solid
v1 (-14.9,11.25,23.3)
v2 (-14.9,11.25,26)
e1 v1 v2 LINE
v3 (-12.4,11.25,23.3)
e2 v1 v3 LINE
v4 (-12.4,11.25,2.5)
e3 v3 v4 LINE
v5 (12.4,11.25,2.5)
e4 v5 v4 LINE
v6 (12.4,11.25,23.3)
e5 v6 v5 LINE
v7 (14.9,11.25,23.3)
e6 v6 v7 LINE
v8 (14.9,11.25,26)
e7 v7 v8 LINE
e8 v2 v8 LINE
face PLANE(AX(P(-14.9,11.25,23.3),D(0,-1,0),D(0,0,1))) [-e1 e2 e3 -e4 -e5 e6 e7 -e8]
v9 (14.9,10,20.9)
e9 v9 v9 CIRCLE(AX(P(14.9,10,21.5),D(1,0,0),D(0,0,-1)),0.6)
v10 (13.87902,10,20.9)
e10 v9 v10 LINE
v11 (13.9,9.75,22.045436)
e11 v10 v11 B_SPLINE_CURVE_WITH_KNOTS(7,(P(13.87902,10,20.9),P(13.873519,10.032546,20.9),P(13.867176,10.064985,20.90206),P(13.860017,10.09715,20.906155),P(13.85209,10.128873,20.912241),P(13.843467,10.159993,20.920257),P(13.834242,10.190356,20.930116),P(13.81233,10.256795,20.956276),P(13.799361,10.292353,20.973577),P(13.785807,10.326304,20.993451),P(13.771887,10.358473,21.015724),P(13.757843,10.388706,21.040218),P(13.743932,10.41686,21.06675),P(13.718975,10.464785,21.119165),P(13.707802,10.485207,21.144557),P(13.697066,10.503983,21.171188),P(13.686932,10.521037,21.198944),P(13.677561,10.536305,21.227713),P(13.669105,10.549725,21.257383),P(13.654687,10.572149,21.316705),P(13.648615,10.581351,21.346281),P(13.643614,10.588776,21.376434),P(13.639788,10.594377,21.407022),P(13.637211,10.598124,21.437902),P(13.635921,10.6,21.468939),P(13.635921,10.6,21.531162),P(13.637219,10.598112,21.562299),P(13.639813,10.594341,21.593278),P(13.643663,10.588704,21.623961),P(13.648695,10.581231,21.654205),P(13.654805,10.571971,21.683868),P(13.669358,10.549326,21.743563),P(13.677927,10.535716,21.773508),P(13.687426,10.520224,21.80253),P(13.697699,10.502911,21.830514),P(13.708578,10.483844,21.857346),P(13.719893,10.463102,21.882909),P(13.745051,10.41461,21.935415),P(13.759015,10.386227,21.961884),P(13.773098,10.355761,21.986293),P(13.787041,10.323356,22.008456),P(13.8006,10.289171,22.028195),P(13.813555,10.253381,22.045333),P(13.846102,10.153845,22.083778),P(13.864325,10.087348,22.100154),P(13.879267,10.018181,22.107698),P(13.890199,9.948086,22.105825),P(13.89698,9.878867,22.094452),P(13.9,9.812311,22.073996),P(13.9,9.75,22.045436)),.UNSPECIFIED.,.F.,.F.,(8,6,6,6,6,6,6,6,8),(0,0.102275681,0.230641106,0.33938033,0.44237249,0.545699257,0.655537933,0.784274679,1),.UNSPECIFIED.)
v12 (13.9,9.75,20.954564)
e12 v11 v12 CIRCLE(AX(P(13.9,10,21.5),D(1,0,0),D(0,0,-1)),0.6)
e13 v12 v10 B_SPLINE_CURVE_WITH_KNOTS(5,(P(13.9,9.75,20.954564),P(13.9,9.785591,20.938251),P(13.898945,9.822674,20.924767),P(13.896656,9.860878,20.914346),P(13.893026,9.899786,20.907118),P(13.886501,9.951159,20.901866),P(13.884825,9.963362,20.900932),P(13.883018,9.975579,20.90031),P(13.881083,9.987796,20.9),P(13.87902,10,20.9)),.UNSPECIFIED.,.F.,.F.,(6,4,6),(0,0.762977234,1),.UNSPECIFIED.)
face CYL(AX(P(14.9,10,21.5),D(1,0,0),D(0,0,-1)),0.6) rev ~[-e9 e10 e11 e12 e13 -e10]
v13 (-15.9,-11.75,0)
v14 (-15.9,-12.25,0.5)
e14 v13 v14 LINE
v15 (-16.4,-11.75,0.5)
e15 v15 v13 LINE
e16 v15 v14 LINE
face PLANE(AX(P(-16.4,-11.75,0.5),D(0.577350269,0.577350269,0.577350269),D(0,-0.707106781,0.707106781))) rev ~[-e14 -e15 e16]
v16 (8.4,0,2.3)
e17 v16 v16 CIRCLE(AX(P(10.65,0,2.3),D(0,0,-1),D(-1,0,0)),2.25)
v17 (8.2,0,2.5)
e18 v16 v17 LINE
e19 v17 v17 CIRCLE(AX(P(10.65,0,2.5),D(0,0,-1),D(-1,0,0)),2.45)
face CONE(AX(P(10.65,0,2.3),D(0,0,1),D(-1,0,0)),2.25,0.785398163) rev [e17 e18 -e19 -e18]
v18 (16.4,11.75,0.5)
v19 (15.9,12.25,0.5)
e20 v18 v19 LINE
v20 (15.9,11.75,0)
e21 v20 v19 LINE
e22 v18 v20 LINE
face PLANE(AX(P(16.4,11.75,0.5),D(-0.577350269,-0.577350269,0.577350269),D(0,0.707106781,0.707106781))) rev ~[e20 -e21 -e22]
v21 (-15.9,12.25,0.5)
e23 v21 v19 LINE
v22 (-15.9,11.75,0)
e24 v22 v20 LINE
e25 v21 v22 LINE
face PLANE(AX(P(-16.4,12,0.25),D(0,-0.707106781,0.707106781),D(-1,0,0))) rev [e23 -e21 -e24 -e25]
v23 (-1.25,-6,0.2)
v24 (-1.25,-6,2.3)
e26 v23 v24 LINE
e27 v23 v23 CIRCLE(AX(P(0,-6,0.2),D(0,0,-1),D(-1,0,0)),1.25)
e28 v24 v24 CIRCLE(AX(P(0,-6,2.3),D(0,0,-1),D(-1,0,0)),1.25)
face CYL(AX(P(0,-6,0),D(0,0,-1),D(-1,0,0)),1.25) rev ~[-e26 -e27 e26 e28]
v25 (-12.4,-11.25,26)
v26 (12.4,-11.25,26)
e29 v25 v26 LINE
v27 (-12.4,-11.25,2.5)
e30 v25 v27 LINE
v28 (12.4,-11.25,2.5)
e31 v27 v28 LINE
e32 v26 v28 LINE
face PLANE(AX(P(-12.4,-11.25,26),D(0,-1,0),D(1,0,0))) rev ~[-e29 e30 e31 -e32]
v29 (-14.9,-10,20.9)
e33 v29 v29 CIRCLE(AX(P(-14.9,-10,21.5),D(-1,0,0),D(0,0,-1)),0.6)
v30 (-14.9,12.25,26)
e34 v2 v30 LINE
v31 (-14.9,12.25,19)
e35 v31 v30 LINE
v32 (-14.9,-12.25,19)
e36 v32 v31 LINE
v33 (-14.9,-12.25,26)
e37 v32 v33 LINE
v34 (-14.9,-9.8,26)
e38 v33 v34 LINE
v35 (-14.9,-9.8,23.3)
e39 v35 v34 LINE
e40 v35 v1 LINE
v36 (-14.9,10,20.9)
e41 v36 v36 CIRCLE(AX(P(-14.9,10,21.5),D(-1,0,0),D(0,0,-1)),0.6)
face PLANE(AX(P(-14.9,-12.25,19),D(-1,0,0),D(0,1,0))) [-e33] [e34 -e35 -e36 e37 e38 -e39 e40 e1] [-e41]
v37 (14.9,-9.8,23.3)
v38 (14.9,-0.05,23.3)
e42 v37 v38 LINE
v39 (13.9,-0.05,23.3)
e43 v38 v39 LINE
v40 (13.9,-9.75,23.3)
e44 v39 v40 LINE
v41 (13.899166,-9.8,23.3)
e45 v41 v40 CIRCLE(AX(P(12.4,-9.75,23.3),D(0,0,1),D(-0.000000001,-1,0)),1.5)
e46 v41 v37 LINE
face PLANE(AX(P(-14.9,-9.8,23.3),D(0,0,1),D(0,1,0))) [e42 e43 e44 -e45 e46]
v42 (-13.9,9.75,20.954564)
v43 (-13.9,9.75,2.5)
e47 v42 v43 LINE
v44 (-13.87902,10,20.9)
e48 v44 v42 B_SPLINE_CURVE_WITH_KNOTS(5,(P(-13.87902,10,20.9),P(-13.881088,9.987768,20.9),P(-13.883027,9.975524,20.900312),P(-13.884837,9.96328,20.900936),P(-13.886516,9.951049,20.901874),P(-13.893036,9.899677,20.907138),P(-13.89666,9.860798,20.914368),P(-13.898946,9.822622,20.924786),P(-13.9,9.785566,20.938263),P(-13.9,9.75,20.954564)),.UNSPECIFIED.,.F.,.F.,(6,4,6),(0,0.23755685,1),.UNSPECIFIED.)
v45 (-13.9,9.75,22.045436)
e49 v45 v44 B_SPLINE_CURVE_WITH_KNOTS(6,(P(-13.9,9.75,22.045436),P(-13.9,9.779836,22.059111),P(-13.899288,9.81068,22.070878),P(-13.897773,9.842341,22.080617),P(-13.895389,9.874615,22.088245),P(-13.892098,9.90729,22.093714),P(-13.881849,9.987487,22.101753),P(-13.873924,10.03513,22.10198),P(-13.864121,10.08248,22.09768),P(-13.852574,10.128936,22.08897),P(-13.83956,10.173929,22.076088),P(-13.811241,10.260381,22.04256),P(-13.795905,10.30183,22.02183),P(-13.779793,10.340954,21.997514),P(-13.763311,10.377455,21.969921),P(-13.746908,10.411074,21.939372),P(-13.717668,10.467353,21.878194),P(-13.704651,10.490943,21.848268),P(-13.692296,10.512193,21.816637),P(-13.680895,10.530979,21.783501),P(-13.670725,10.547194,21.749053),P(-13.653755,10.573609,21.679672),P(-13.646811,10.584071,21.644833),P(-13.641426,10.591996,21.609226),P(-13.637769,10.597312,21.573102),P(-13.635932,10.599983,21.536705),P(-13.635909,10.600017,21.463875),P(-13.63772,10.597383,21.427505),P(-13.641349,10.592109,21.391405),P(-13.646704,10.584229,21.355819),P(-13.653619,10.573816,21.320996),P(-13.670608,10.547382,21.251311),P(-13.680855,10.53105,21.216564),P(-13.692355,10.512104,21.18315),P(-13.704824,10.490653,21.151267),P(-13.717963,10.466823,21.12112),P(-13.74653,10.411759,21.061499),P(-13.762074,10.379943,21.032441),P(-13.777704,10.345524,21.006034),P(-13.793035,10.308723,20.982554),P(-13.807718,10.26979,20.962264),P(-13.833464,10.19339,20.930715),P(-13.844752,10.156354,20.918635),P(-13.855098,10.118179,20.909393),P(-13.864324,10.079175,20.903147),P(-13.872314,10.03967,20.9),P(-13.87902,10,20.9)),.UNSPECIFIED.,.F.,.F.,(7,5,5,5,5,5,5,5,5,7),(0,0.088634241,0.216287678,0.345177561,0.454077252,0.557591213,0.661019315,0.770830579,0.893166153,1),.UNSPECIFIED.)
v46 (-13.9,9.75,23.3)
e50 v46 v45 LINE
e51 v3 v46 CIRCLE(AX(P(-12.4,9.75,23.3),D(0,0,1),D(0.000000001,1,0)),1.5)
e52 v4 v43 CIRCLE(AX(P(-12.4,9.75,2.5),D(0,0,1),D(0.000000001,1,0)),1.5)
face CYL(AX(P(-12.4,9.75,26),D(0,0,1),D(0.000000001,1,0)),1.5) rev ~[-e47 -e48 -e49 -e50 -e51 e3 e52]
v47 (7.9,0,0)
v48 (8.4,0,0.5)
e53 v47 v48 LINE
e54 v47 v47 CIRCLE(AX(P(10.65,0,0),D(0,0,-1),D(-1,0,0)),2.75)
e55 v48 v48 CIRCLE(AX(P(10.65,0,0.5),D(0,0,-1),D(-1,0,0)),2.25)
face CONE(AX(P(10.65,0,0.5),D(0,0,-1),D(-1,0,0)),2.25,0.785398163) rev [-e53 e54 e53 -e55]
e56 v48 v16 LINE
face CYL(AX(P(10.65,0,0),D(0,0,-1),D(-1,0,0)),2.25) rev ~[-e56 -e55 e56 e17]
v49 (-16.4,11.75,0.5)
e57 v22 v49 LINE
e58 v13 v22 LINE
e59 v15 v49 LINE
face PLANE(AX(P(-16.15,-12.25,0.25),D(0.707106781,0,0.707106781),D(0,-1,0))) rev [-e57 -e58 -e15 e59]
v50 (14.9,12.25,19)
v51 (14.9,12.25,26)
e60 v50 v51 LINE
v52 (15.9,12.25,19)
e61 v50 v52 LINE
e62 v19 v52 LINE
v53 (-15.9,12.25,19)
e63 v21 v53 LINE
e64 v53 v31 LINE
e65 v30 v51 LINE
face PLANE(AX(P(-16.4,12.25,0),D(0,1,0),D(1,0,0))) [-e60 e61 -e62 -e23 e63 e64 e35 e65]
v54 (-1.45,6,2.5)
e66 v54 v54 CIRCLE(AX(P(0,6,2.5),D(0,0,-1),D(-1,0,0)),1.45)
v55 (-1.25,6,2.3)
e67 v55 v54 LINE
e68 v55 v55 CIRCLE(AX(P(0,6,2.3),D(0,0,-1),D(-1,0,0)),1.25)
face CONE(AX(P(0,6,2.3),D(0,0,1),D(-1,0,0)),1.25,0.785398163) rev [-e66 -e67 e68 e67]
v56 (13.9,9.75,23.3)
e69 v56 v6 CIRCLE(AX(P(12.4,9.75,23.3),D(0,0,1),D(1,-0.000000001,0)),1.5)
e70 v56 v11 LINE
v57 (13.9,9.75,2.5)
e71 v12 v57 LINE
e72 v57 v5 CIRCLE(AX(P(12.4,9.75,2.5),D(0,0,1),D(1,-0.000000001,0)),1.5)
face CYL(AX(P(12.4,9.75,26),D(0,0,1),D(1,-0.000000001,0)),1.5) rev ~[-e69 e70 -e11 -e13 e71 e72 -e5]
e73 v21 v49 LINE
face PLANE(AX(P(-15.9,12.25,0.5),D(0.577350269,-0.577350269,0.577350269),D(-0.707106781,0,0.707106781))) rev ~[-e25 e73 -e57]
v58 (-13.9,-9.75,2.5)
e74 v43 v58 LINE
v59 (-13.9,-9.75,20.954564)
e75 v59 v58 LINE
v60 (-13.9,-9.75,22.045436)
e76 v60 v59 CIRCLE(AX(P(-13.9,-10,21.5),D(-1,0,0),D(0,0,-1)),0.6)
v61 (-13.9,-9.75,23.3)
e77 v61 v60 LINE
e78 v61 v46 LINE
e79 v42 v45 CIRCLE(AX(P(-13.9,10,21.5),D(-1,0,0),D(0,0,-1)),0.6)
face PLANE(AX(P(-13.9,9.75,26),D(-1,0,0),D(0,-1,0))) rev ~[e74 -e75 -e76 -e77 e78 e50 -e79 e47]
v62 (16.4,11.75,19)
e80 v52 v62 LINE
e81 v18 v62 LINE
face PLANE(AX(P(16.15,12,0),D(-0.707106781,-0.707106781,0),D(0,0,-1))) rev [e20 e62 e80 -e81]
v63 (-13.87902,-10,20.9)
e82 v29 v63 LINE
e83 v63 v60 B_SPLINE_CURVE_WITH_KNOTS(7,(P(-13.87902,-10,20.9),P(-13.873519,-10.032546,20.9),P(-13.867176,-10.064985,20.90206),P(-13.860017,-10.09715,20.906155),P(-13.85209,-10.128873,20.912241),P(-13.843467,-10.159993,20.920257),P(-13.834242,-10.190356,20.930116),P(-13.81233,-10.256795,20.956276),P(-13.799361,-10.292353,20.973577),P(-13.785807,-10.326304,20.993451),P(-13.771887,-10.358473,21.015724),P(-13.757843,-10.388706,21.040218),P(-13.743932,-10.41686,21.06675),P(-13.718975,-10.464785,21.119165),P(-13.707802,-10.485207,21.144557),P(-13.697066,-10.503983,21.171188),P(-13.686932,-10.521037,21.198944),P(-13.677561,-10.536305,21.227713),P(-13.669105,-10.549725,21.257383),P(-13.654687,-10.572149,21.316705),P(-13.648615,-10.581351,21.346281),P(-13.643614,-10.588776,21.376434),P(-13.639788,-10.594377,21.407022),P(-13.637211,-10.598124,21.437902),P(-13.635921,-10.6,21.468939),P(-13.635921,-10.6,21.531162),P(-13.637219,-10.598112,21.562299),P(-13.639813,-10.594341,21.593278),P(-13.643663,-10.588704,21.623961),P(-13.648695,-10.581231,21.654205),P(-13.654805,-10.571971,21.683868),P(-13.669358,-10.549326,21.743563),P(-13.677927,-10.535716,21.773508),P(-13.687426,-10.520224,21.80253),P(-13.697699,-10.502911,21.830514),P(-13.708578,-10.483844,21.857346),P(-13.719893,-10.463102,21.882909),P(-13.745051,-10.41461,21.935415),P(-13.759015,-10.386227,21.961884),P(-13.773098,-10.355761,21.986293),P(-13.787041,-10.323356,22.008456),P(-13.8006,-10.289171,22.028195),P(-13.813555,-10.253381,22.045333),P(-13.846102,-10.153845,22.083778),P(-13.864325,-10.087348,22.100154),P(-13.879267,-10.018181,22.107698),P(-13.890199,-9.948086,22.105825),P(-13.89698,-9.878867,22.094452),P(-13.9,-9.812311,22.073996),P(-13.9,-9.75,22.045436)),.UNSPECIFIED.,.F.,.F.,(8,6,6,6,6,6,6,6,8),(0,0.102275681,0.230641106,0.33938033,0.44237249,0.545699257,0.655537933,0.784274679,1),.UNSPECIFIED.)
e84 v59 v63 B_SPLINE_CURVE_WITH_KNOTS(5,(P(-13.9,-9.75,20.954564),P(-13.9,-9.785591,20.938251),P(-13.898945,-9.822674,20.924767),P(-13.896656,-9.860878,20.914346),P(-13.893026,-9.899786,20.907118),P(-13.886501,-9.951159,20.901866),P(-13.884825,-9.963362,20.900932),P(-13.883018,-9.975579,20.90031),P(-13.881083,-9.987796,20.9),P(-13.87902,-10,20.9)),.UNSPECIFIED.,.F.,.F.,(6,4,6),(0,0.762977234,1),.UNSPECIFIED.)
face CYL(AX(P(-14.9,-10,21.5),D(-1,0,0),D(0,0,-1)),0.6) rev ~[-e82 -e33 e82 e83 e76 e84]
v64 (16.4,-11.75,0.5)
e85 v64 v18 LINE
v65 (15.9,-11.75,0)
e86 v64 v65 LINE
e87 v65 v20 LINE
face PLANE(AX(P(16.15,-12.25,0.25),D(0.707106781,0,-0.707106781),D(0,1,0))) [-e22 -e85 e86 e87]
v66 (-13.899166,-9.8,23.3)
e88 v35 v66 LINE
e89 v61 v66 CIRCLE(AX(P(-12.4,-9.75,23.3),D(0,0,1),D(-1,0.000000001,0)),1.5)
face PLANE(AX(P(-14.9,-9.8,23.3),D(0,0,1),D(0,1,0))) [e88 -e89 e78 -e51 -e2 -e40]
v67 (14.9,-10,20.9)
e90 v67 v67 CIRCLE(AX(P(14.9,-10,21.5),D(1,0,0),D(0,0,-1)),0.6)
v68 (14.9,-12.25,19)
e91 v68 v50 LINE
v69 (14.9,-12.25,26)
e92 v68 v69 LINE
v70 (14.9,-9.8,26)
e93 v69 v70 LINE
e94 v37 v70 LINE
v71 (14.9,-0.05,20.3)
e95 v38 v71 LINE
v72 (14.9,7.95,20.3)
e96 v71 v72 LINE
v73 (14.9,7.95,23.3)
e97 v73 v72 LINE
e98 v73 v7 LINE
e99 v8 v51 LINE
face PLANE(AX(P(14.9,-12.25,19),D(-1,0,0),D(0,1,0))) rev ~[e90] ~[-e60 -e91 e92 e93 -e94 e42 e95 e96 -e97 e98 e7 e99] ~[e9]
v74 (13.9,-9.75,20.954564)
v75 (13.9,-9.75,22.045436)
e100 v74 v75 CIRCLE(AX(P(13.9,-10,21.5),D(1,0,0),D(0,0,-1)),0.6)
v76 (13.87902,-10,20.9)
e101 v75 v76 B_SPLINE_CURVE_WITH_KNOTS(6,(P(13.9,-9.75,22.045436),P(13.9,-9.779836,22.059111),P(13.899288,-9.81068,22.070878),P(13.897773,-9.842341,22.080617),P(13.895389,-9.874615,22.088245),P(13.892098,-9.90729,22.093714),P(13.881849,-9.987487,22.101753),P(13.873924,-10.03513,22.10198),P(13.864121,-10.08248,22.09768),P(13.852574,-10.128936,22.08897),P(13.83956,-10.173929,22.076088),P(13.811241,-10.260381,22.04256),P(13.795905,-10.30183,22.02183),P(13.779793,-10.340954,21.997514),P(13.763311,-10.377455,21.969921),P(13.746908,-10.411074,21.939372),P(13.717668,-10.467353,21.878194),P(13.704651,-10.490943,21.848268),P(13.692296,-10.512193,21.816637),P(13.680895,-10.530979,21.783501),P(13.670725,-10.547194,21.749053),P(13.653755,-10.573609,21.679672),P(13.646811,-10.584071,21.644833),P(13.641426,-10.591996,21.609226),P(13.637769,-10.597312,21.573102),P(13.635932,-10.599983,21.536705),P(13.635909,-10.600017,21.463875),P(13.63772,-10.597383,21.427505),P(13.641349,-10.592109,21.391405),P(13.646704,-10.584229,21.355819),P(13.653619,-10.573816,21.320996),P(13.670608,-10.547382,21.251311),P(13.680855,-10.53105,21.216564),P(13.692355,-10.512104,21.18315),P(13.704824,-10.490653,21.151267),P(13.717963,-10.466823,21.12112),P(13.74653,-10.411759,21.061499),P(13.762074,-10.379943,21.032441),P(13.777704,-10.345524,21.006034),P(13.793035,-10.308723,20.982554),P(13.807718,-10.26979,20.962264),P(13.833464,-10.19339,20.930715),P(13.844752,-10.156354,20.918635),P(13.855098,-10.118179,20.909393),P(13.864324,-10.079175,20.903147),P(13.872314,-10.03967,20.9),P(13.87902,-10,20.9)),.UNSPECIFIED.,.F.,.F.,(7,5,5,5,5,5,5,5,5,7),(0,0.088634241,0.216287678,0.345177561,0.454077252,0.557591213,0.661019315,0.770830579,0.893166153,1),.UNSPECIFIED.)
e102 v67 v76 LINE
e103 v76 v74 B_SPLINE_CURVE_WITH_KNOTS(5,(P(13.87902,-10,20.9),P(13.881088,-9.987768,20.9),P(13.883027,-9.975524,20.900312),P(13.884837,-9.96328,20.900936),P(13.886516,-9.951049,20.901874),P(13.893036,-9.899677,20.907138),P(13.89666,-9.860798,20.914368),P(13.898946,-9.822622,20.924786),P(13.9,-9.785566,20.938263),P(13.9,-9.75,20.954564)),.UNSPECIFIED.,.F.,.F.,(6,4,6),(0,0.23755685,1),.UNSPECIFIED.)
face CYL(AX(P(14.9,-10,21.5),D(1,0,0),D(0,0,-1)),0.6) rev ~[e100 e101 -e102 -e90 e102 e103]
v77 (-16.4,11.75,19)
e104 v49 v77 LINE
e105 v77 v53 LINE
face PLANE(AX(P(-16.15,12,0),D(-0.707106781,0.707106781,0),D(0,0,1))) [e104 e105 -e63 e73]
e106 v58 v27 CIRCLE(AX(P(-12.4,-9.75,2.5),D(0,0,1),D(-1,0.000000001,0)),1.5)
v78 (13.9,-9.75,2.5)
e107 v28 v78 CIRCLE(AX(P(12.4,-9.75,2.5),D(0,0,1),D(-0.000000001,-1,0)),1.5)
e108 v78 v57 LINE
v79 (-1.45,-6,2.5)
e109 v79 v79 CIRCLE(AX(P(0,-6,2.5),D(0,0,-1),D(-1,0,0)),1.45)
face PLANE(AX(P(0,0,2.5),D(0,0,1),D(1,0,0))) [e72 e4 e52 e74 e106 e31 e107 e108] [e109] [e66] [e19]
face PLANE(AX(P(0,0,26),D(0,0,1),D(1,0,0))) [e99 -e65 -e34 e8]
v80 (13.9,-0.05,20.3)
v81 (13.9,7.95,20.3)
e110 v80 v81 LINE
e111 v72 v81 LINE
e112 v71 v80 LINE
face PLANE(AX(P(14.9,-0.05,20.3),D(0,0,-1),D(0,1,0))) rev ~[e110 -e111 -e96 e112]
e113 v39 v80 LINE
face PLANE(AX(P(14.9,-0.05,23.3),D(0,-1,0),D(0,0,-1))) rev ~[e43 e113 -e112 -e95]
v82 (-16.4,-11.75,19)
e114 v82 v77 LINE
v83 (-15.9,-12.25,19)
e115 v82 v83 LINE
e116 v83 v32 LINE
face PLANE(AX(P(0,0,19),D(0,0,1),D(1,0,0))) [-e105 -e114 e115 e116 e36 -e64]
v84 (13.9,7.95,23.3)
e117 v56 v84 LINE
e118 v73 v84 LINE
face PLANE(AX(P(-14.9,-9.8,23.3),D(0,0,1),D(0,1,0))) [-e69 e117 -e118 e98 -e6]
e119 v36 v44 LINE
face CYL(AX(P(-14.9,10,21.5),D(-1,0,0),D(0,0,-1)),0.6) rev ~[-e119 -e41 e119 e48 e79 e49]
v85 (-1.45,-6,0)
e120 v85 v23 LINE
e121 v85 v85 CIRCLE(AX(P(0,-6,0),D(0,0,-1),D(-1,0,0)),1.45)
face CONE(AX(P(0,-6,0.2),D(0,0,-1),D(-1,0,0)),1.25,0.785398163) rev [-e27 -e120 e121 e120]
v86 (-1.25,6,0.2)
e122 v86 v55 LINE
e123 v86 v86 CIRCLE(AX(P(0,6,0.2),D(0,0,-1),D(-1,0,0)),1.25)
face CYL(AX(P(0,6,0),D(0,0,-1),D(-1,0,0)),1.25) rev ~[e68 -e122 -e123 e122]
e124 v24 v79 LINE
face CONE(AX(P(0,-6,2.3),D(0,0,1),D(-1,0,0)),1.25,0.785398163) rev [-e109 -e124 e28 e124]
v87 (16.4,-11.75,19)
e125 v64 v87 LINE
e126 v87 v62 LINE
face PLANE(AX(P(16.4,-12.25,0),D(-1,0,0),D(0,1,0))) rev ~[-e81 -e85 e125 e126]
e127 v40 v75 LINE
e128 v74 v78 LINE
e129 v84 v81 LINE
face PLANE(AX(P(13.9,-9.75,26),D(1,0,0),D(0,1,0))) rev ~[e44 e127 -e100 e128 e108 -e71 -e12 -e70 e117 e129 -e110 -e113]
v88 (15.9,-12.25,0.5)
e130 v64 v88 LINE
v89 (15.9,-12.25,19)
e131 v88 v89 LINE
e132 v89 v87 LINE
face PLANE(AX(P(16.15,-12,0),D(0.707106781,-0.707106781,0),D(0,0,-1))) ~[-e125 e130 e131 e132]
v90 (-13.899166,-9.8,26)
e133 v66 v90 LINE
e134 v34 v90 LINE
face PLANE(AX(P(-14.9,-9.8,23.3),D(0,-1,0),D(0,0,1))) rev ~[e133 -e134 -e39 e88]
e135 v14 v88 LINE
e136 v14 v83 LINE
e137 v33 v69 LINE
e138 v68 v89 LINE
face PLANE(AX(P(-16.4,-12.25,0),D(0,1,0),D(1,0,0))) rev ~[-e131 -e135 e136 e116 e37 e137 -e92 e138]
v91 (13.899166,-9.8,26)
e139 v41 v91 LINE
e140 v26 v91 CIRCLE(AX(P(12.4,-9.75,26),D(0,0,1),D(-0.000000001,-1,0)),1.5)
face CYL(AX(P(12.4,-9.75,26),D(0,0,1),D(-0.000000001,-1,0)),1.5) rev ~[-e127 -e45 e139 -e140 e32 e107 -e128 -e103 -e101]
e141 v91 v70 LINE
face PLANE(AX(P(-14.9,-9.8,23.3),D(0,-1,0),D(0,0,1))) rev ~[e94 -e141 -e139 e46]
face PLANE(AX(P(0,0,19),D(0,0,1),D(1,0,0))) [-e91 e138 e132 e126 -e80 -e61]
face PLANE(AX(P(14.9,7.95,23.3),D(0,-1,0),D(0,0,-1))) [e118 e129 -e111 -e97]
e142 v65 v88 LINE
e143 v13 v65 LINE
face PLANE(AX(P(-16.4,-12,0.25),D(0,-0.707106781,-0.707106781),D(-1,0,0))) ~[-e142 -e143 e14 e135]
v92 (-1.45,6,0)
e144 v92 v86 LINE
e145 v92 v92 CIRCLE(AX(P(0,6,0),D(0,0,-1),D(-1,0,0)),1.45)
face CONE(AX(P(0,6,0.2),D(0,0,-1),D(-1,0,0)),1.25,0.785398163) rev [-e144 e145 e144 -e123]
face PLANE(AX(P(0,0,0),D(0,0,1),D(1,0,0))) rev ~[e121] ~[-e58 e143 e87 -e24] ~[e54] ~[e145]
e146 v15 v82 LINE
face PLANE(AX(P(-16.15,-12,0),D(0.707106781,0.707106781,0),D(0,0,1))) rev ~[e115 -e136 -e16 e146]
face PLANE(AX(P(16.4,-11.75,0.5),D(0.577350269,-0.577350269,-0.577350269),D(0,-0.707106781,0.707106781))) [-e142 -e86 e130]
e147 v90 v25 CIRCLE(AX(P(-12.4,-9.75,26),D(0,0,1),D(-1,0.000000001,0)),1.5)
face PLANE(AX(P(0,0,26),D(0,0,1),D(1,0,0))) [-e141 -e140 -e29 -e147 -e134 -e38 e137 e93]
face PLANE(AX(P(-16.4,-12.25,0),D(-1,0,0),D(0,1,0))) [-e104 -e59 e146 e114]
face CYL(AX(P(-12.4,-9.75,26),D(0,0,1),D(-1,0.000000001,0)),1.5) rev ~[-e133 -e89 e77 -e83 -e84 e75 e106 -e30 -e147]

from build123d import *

# Parameters (mm, degrees)
SKETCH7_W           = 32.8
SKETCH7_H           = 24.5
BOSS_EXTRUDE3_DEPTH = 19
SKETCH8_W           = 29.8
SKETCH8_H           = 24.5
BOSS_EXTRUDE4_DEPTH = 7
CUT_EXTRUDE1_DEPTH  = 23.5
CUT_EXTRUDE2_REACH  = 44.494
SKETCH10_W          = 2.7
SKETCH10_H          = 21.05
SKETCH18_W          = 3
SKETCH18_H          = 8
CUT_EXTRUDE3_DEPTH  = 1
CHAMFER1_SIZE       = 0.5
CUT_EXTRUDE5_REACH  = 44.494
SKETCH20_R          = 0.6
CUT_EXTRUDE6_REACH  = 44.494
SKETCH19_R          = 0.6
CUT_EXTRUDE7_REACH  = 35.091
SKETCH21_R          = 2.25
SKETCH21_R_2        = 1.25
CHAMFER2_SIZE       = 0.5
CHAMFER4_SIZE       = 0.2


with BuildPart() as part:
    # Sketch7 → Boss-Extrude3 (new body)
    with BuildSketch(Plane.XY):
        Rectangle(SKETCH7_W, SKETCH7_H)
    extrude(amount=BOSS_EXTRUDE3_DEPTH)

    # Sketch8 → Boss-Extrude4 (add)
    with BuildSketch(Plane.XY.offset(19)):
        Rectangle(SKETCH8_W, SKETCH8_H)
    extrude(amount=BOSS_EXTRUDE4_DEPTH)

    # Sketch16 → Cut-Extrude1 (cut)
    with BuildSketch(Plane.XY.offset(26)):
        with BuildLine():
            Line((-12.4, -11.25), (12.4, -11.25))
            ThreePointArc((12.4, -11.25), (13.460660172, -10.810660172), (13.9, -9.75))
            Line((13.9, -9.75), (13.9, 9.75))
            ThreePointArc((13.9, 9.75), (13.460660172, 10.810660172), (12.4, 11.25))
            Line((12.4, 11.25), (-12.4, 11.25))
            ThreePointArc((-12.4, 11.25), (-13.460660172, 10.810660172), (-13.9, 9.75))
            Line((-13.9, 9.75), (-13.9, -9.75))
            ThreePointArc((-13.9, -9.75), (-13.460660172, -10.810660172), (-12.4, -11.25))
        make_face()
    extrude(amount=-CUT_EXTRUDE1_DEPTH, mode=Mode.SUBTRACT)

    # Cut-Extrude2: up to this face of the body (flat: up to its plane)
    cut_extrude2_end = Plane(part.part.faces().sort_by_distance((14.9, 0, 22.5))[0])
    # Sketch10 → Cut-Extrude2 (cut, up to the picked face)
    with BuildSketch(Plane.ZY.offset(14.9), mode=Mode.PRIVATE) as cut_extrude2_sk1:
        with Locations((24.65, 0.725)):
            Rectangle(SKETCH10_W, SKETCH10_H)
    cut_extrude2_tool1 = split(extrude(cut_extrude2_sk1.sketch, amount=-CUT_EXTRUDE2_REACH, mode=Mode.PRIVATE), bisect_by=cut_extrude2_end, keep=Keep.BOTH, mode=Mode.PRIVATE)
    add(cut_extrude2_tool1.solids().sort_by(Axis((-14.9, 0.725, 24.65), (1, 0, 0)))[0], mode=Mode.SUBTRACT)

    # Sketch18 → Cut-Extrude3 (cut)
    with BuildSketch(Plane(origin=(14.9, 0, 0), x_dir=(0, 0, -1), z_dir=(1, 0, 0))):
        with Locations((-21.8, 3.95)):
            Rectangle(SKETCH18_W, SKETCH18_H)
    extrude(amount=-CUT_EXTRUDE3_DEPTH, mode=Mode.SUBTRACT)

    # Chamfer1
    chamfer1_edges = [part.edges().sort_by_distance(p)[0] for p in [
        (0, -12.25, 0),
        (-16.4, 0, 0),
        (0, 12.25, 0),
        (16.4, 0, 0),
        (16.4, -12.25, 9.5),
        (-16.4, -12.25, 9.5),
        (-16.4, 12.25, 9.5),
        (16.4, 12.25, 9.5),
    ]]
    chamfer(chamfer1_edges, length=CHAMFER1_SIZE)

    # Sketch20 → Cut-Extrude5 (cut, up to next)
    with BuildSketch(Plane(origin=(14.9, 0, 0), x_dir=(0, 0, -1), z_dir=(1, 0, 0)), mode=Mode.PRIVATE) as cut_extrude5_sk1:
        with Locations((-21.5, 10)):
            Circle(SKETCH20_R)
    cut_extrude5_tool1 = extrude(cut_extrude5_sk1.sketch, amount=-CUT_EXTRUDE5_REACH, mode=Mode.PRIVATE) & part.part
    # Sketch20 → Cut-Extrude5 (cut, up to next)
    with BuildSketch(Plane(origin=(14.9, 0, 0), x_dir=(0, 0, -1), z_dir=(1, 0, 0)), mode=Mode.PRIVATE) as cut_extrude5_sk2:
        with Locations((-21.5, -10)):
            Circle(SKETCH20_R)
    cut_extrude5_tool2 = extrude(cut_extrude5_sk2.sketch, amount=-CUT_EXTRUDE5_REACH, mode=Mode.PRIVATE) & part.part
    add(cut_extrude5_tool1.solids().sort_by_distance((14.9, 10, 21.5))[0], mode=Mode.SUBTRACT)
    add(cut_extrude5_tool2.solids().sort_by_distance((14.9, -10, 21.5))[0], mode=Mode.SUBTRACT)

    # Sketch19 → Cut-Extrude6 (cut, up to next)
    with BuildSketch(Plane.ZY.offset(14.9), mode=Mode.PRIVATE) as cut_extrude6_sk1:
        with Locations(Location((21.5, 10, 0), (0, 0, 180))):
            Circle(SKETCH19_R)
    cut_extrude6_tool1 = extrude(cut_extrude6_sk1.sketch, amount=-CUT_EXTRUDE6_REACH, mode=Mode.PRIVATE) & part.part
    # Sketch19 → Cut-Extrude6 (cut, up to next)
    with BuildSketch(Plane.ZY.offset(14.9), mode=Mode.PRIVATE) as cut_extrude6_sk2:
        with Locations(Location((21.5, -10, 0), (0, 0, 180))):
            Circle(SKETCH19_R)
    cut_extrude6_tool2 = extrude(cut_extrude6_sk2.sketch, amount=-CUT_EXTRUDE6_REACH, mode=Mode.PRIVATE) & part.part
    add(cut_extrude6_tool1.solids().sort_by_distance((-14.9, 10, 21.5))[0], mode=Mode.SUBTRACT)
    add(cut_extrude6_tool2.solids().sort_by_distance((-14.9, -10, 21.5))[0], mode=Mode.SUBTRACT)

    # Sketch21 → Cut-Extrude7 (cut, up to next)
    with BuildSketch(Plane(origin=(0, 0, 0), x_dir=(-1, 0, 0), z_dir=(0, 0, -1)), mode=Mode.PRIVATE) as cut_extrude7_sk1:
        with Locations((-10.65, 0)):
            Circle(SKETCH21_R)
    cut_extrude7_tool1 = extrude(cut_extrude7_sk1.sketch, amount=-CUT_EXTRUDE7_REACH, mode=Mode.PRIVATE) & part.part
    # Sketch21 → Cut-Extrude7 (cut, up to next)
    with BuildSketch(Plane(origin=(0, 0, 0), x_dir=(-1, 0, 0), z_dir=(0, 0, -1)), mode=Mode.PRIVATE) as cut_extrude7_sk2:
        with Locations((0, 6)):
            Circle(SKETCH21_R_2)
    cut_extrude7_tool2 = extrude(cut_extrude7_sk2.sketch, amount=-CUT_EXTRUDE7_REACH, mode=Mode.PRIVATE) & part.part
    # Sketch21 → Cut-Extrude7 (cut, up to next)
    with BuildSketch(Plane(origin=(0, 0, 0), x_dir=(-1, 0, 0), z_dir=(0, 0, -1)), mode=Mode.PRIVATE) as cut_extrude7_sk3:
        with Locations((0, -6)):
            Circle(SKETCH21_R_2)
    cut_extrude7_tool3 = extrude(cut_extrude7_sk3.sketch, amount=-CUT_EXTRUDE7_REACH, mode=Mode.PRIVATE) & part.part
    add(cut_extrude7_tool1.solids().sort_by_distance((10.65, 0, 0))[0], mode=Mode.SUBTRACT)
    add(cut_extrude7_tool2.solids().sort_by_distance((0, 6, 0))[0], mode=Mode.SUBTRACT)
    add(cut_extrude7_tool3.solids().sort_by_distance((0, -6, 0))[0], mode=Mode.SUBTRACT)

    # Chamfer2
    chamfer2_edges = [part.edges().sort_by_distance(p)[0] for p in [
        (12.9, 0, 0),
    ]]
    chamfer(chamfer2_edges, length=CHAMFER2_SIZE)

    # Chamfer4
    chamfer4_edges = [part.edges().sort_by_distance(p)[0] for p in [
        (1.25, 6, 2.5),
        (1.25, 6, 0),
        (1.25, -6, 2.5),
        (1.25, -6, 0),
        (12.9, 0, 2.5),
    ]]
    chamfer(chamfer4_edges, length=CHAMFER4_SIZE)


solid = part.part
